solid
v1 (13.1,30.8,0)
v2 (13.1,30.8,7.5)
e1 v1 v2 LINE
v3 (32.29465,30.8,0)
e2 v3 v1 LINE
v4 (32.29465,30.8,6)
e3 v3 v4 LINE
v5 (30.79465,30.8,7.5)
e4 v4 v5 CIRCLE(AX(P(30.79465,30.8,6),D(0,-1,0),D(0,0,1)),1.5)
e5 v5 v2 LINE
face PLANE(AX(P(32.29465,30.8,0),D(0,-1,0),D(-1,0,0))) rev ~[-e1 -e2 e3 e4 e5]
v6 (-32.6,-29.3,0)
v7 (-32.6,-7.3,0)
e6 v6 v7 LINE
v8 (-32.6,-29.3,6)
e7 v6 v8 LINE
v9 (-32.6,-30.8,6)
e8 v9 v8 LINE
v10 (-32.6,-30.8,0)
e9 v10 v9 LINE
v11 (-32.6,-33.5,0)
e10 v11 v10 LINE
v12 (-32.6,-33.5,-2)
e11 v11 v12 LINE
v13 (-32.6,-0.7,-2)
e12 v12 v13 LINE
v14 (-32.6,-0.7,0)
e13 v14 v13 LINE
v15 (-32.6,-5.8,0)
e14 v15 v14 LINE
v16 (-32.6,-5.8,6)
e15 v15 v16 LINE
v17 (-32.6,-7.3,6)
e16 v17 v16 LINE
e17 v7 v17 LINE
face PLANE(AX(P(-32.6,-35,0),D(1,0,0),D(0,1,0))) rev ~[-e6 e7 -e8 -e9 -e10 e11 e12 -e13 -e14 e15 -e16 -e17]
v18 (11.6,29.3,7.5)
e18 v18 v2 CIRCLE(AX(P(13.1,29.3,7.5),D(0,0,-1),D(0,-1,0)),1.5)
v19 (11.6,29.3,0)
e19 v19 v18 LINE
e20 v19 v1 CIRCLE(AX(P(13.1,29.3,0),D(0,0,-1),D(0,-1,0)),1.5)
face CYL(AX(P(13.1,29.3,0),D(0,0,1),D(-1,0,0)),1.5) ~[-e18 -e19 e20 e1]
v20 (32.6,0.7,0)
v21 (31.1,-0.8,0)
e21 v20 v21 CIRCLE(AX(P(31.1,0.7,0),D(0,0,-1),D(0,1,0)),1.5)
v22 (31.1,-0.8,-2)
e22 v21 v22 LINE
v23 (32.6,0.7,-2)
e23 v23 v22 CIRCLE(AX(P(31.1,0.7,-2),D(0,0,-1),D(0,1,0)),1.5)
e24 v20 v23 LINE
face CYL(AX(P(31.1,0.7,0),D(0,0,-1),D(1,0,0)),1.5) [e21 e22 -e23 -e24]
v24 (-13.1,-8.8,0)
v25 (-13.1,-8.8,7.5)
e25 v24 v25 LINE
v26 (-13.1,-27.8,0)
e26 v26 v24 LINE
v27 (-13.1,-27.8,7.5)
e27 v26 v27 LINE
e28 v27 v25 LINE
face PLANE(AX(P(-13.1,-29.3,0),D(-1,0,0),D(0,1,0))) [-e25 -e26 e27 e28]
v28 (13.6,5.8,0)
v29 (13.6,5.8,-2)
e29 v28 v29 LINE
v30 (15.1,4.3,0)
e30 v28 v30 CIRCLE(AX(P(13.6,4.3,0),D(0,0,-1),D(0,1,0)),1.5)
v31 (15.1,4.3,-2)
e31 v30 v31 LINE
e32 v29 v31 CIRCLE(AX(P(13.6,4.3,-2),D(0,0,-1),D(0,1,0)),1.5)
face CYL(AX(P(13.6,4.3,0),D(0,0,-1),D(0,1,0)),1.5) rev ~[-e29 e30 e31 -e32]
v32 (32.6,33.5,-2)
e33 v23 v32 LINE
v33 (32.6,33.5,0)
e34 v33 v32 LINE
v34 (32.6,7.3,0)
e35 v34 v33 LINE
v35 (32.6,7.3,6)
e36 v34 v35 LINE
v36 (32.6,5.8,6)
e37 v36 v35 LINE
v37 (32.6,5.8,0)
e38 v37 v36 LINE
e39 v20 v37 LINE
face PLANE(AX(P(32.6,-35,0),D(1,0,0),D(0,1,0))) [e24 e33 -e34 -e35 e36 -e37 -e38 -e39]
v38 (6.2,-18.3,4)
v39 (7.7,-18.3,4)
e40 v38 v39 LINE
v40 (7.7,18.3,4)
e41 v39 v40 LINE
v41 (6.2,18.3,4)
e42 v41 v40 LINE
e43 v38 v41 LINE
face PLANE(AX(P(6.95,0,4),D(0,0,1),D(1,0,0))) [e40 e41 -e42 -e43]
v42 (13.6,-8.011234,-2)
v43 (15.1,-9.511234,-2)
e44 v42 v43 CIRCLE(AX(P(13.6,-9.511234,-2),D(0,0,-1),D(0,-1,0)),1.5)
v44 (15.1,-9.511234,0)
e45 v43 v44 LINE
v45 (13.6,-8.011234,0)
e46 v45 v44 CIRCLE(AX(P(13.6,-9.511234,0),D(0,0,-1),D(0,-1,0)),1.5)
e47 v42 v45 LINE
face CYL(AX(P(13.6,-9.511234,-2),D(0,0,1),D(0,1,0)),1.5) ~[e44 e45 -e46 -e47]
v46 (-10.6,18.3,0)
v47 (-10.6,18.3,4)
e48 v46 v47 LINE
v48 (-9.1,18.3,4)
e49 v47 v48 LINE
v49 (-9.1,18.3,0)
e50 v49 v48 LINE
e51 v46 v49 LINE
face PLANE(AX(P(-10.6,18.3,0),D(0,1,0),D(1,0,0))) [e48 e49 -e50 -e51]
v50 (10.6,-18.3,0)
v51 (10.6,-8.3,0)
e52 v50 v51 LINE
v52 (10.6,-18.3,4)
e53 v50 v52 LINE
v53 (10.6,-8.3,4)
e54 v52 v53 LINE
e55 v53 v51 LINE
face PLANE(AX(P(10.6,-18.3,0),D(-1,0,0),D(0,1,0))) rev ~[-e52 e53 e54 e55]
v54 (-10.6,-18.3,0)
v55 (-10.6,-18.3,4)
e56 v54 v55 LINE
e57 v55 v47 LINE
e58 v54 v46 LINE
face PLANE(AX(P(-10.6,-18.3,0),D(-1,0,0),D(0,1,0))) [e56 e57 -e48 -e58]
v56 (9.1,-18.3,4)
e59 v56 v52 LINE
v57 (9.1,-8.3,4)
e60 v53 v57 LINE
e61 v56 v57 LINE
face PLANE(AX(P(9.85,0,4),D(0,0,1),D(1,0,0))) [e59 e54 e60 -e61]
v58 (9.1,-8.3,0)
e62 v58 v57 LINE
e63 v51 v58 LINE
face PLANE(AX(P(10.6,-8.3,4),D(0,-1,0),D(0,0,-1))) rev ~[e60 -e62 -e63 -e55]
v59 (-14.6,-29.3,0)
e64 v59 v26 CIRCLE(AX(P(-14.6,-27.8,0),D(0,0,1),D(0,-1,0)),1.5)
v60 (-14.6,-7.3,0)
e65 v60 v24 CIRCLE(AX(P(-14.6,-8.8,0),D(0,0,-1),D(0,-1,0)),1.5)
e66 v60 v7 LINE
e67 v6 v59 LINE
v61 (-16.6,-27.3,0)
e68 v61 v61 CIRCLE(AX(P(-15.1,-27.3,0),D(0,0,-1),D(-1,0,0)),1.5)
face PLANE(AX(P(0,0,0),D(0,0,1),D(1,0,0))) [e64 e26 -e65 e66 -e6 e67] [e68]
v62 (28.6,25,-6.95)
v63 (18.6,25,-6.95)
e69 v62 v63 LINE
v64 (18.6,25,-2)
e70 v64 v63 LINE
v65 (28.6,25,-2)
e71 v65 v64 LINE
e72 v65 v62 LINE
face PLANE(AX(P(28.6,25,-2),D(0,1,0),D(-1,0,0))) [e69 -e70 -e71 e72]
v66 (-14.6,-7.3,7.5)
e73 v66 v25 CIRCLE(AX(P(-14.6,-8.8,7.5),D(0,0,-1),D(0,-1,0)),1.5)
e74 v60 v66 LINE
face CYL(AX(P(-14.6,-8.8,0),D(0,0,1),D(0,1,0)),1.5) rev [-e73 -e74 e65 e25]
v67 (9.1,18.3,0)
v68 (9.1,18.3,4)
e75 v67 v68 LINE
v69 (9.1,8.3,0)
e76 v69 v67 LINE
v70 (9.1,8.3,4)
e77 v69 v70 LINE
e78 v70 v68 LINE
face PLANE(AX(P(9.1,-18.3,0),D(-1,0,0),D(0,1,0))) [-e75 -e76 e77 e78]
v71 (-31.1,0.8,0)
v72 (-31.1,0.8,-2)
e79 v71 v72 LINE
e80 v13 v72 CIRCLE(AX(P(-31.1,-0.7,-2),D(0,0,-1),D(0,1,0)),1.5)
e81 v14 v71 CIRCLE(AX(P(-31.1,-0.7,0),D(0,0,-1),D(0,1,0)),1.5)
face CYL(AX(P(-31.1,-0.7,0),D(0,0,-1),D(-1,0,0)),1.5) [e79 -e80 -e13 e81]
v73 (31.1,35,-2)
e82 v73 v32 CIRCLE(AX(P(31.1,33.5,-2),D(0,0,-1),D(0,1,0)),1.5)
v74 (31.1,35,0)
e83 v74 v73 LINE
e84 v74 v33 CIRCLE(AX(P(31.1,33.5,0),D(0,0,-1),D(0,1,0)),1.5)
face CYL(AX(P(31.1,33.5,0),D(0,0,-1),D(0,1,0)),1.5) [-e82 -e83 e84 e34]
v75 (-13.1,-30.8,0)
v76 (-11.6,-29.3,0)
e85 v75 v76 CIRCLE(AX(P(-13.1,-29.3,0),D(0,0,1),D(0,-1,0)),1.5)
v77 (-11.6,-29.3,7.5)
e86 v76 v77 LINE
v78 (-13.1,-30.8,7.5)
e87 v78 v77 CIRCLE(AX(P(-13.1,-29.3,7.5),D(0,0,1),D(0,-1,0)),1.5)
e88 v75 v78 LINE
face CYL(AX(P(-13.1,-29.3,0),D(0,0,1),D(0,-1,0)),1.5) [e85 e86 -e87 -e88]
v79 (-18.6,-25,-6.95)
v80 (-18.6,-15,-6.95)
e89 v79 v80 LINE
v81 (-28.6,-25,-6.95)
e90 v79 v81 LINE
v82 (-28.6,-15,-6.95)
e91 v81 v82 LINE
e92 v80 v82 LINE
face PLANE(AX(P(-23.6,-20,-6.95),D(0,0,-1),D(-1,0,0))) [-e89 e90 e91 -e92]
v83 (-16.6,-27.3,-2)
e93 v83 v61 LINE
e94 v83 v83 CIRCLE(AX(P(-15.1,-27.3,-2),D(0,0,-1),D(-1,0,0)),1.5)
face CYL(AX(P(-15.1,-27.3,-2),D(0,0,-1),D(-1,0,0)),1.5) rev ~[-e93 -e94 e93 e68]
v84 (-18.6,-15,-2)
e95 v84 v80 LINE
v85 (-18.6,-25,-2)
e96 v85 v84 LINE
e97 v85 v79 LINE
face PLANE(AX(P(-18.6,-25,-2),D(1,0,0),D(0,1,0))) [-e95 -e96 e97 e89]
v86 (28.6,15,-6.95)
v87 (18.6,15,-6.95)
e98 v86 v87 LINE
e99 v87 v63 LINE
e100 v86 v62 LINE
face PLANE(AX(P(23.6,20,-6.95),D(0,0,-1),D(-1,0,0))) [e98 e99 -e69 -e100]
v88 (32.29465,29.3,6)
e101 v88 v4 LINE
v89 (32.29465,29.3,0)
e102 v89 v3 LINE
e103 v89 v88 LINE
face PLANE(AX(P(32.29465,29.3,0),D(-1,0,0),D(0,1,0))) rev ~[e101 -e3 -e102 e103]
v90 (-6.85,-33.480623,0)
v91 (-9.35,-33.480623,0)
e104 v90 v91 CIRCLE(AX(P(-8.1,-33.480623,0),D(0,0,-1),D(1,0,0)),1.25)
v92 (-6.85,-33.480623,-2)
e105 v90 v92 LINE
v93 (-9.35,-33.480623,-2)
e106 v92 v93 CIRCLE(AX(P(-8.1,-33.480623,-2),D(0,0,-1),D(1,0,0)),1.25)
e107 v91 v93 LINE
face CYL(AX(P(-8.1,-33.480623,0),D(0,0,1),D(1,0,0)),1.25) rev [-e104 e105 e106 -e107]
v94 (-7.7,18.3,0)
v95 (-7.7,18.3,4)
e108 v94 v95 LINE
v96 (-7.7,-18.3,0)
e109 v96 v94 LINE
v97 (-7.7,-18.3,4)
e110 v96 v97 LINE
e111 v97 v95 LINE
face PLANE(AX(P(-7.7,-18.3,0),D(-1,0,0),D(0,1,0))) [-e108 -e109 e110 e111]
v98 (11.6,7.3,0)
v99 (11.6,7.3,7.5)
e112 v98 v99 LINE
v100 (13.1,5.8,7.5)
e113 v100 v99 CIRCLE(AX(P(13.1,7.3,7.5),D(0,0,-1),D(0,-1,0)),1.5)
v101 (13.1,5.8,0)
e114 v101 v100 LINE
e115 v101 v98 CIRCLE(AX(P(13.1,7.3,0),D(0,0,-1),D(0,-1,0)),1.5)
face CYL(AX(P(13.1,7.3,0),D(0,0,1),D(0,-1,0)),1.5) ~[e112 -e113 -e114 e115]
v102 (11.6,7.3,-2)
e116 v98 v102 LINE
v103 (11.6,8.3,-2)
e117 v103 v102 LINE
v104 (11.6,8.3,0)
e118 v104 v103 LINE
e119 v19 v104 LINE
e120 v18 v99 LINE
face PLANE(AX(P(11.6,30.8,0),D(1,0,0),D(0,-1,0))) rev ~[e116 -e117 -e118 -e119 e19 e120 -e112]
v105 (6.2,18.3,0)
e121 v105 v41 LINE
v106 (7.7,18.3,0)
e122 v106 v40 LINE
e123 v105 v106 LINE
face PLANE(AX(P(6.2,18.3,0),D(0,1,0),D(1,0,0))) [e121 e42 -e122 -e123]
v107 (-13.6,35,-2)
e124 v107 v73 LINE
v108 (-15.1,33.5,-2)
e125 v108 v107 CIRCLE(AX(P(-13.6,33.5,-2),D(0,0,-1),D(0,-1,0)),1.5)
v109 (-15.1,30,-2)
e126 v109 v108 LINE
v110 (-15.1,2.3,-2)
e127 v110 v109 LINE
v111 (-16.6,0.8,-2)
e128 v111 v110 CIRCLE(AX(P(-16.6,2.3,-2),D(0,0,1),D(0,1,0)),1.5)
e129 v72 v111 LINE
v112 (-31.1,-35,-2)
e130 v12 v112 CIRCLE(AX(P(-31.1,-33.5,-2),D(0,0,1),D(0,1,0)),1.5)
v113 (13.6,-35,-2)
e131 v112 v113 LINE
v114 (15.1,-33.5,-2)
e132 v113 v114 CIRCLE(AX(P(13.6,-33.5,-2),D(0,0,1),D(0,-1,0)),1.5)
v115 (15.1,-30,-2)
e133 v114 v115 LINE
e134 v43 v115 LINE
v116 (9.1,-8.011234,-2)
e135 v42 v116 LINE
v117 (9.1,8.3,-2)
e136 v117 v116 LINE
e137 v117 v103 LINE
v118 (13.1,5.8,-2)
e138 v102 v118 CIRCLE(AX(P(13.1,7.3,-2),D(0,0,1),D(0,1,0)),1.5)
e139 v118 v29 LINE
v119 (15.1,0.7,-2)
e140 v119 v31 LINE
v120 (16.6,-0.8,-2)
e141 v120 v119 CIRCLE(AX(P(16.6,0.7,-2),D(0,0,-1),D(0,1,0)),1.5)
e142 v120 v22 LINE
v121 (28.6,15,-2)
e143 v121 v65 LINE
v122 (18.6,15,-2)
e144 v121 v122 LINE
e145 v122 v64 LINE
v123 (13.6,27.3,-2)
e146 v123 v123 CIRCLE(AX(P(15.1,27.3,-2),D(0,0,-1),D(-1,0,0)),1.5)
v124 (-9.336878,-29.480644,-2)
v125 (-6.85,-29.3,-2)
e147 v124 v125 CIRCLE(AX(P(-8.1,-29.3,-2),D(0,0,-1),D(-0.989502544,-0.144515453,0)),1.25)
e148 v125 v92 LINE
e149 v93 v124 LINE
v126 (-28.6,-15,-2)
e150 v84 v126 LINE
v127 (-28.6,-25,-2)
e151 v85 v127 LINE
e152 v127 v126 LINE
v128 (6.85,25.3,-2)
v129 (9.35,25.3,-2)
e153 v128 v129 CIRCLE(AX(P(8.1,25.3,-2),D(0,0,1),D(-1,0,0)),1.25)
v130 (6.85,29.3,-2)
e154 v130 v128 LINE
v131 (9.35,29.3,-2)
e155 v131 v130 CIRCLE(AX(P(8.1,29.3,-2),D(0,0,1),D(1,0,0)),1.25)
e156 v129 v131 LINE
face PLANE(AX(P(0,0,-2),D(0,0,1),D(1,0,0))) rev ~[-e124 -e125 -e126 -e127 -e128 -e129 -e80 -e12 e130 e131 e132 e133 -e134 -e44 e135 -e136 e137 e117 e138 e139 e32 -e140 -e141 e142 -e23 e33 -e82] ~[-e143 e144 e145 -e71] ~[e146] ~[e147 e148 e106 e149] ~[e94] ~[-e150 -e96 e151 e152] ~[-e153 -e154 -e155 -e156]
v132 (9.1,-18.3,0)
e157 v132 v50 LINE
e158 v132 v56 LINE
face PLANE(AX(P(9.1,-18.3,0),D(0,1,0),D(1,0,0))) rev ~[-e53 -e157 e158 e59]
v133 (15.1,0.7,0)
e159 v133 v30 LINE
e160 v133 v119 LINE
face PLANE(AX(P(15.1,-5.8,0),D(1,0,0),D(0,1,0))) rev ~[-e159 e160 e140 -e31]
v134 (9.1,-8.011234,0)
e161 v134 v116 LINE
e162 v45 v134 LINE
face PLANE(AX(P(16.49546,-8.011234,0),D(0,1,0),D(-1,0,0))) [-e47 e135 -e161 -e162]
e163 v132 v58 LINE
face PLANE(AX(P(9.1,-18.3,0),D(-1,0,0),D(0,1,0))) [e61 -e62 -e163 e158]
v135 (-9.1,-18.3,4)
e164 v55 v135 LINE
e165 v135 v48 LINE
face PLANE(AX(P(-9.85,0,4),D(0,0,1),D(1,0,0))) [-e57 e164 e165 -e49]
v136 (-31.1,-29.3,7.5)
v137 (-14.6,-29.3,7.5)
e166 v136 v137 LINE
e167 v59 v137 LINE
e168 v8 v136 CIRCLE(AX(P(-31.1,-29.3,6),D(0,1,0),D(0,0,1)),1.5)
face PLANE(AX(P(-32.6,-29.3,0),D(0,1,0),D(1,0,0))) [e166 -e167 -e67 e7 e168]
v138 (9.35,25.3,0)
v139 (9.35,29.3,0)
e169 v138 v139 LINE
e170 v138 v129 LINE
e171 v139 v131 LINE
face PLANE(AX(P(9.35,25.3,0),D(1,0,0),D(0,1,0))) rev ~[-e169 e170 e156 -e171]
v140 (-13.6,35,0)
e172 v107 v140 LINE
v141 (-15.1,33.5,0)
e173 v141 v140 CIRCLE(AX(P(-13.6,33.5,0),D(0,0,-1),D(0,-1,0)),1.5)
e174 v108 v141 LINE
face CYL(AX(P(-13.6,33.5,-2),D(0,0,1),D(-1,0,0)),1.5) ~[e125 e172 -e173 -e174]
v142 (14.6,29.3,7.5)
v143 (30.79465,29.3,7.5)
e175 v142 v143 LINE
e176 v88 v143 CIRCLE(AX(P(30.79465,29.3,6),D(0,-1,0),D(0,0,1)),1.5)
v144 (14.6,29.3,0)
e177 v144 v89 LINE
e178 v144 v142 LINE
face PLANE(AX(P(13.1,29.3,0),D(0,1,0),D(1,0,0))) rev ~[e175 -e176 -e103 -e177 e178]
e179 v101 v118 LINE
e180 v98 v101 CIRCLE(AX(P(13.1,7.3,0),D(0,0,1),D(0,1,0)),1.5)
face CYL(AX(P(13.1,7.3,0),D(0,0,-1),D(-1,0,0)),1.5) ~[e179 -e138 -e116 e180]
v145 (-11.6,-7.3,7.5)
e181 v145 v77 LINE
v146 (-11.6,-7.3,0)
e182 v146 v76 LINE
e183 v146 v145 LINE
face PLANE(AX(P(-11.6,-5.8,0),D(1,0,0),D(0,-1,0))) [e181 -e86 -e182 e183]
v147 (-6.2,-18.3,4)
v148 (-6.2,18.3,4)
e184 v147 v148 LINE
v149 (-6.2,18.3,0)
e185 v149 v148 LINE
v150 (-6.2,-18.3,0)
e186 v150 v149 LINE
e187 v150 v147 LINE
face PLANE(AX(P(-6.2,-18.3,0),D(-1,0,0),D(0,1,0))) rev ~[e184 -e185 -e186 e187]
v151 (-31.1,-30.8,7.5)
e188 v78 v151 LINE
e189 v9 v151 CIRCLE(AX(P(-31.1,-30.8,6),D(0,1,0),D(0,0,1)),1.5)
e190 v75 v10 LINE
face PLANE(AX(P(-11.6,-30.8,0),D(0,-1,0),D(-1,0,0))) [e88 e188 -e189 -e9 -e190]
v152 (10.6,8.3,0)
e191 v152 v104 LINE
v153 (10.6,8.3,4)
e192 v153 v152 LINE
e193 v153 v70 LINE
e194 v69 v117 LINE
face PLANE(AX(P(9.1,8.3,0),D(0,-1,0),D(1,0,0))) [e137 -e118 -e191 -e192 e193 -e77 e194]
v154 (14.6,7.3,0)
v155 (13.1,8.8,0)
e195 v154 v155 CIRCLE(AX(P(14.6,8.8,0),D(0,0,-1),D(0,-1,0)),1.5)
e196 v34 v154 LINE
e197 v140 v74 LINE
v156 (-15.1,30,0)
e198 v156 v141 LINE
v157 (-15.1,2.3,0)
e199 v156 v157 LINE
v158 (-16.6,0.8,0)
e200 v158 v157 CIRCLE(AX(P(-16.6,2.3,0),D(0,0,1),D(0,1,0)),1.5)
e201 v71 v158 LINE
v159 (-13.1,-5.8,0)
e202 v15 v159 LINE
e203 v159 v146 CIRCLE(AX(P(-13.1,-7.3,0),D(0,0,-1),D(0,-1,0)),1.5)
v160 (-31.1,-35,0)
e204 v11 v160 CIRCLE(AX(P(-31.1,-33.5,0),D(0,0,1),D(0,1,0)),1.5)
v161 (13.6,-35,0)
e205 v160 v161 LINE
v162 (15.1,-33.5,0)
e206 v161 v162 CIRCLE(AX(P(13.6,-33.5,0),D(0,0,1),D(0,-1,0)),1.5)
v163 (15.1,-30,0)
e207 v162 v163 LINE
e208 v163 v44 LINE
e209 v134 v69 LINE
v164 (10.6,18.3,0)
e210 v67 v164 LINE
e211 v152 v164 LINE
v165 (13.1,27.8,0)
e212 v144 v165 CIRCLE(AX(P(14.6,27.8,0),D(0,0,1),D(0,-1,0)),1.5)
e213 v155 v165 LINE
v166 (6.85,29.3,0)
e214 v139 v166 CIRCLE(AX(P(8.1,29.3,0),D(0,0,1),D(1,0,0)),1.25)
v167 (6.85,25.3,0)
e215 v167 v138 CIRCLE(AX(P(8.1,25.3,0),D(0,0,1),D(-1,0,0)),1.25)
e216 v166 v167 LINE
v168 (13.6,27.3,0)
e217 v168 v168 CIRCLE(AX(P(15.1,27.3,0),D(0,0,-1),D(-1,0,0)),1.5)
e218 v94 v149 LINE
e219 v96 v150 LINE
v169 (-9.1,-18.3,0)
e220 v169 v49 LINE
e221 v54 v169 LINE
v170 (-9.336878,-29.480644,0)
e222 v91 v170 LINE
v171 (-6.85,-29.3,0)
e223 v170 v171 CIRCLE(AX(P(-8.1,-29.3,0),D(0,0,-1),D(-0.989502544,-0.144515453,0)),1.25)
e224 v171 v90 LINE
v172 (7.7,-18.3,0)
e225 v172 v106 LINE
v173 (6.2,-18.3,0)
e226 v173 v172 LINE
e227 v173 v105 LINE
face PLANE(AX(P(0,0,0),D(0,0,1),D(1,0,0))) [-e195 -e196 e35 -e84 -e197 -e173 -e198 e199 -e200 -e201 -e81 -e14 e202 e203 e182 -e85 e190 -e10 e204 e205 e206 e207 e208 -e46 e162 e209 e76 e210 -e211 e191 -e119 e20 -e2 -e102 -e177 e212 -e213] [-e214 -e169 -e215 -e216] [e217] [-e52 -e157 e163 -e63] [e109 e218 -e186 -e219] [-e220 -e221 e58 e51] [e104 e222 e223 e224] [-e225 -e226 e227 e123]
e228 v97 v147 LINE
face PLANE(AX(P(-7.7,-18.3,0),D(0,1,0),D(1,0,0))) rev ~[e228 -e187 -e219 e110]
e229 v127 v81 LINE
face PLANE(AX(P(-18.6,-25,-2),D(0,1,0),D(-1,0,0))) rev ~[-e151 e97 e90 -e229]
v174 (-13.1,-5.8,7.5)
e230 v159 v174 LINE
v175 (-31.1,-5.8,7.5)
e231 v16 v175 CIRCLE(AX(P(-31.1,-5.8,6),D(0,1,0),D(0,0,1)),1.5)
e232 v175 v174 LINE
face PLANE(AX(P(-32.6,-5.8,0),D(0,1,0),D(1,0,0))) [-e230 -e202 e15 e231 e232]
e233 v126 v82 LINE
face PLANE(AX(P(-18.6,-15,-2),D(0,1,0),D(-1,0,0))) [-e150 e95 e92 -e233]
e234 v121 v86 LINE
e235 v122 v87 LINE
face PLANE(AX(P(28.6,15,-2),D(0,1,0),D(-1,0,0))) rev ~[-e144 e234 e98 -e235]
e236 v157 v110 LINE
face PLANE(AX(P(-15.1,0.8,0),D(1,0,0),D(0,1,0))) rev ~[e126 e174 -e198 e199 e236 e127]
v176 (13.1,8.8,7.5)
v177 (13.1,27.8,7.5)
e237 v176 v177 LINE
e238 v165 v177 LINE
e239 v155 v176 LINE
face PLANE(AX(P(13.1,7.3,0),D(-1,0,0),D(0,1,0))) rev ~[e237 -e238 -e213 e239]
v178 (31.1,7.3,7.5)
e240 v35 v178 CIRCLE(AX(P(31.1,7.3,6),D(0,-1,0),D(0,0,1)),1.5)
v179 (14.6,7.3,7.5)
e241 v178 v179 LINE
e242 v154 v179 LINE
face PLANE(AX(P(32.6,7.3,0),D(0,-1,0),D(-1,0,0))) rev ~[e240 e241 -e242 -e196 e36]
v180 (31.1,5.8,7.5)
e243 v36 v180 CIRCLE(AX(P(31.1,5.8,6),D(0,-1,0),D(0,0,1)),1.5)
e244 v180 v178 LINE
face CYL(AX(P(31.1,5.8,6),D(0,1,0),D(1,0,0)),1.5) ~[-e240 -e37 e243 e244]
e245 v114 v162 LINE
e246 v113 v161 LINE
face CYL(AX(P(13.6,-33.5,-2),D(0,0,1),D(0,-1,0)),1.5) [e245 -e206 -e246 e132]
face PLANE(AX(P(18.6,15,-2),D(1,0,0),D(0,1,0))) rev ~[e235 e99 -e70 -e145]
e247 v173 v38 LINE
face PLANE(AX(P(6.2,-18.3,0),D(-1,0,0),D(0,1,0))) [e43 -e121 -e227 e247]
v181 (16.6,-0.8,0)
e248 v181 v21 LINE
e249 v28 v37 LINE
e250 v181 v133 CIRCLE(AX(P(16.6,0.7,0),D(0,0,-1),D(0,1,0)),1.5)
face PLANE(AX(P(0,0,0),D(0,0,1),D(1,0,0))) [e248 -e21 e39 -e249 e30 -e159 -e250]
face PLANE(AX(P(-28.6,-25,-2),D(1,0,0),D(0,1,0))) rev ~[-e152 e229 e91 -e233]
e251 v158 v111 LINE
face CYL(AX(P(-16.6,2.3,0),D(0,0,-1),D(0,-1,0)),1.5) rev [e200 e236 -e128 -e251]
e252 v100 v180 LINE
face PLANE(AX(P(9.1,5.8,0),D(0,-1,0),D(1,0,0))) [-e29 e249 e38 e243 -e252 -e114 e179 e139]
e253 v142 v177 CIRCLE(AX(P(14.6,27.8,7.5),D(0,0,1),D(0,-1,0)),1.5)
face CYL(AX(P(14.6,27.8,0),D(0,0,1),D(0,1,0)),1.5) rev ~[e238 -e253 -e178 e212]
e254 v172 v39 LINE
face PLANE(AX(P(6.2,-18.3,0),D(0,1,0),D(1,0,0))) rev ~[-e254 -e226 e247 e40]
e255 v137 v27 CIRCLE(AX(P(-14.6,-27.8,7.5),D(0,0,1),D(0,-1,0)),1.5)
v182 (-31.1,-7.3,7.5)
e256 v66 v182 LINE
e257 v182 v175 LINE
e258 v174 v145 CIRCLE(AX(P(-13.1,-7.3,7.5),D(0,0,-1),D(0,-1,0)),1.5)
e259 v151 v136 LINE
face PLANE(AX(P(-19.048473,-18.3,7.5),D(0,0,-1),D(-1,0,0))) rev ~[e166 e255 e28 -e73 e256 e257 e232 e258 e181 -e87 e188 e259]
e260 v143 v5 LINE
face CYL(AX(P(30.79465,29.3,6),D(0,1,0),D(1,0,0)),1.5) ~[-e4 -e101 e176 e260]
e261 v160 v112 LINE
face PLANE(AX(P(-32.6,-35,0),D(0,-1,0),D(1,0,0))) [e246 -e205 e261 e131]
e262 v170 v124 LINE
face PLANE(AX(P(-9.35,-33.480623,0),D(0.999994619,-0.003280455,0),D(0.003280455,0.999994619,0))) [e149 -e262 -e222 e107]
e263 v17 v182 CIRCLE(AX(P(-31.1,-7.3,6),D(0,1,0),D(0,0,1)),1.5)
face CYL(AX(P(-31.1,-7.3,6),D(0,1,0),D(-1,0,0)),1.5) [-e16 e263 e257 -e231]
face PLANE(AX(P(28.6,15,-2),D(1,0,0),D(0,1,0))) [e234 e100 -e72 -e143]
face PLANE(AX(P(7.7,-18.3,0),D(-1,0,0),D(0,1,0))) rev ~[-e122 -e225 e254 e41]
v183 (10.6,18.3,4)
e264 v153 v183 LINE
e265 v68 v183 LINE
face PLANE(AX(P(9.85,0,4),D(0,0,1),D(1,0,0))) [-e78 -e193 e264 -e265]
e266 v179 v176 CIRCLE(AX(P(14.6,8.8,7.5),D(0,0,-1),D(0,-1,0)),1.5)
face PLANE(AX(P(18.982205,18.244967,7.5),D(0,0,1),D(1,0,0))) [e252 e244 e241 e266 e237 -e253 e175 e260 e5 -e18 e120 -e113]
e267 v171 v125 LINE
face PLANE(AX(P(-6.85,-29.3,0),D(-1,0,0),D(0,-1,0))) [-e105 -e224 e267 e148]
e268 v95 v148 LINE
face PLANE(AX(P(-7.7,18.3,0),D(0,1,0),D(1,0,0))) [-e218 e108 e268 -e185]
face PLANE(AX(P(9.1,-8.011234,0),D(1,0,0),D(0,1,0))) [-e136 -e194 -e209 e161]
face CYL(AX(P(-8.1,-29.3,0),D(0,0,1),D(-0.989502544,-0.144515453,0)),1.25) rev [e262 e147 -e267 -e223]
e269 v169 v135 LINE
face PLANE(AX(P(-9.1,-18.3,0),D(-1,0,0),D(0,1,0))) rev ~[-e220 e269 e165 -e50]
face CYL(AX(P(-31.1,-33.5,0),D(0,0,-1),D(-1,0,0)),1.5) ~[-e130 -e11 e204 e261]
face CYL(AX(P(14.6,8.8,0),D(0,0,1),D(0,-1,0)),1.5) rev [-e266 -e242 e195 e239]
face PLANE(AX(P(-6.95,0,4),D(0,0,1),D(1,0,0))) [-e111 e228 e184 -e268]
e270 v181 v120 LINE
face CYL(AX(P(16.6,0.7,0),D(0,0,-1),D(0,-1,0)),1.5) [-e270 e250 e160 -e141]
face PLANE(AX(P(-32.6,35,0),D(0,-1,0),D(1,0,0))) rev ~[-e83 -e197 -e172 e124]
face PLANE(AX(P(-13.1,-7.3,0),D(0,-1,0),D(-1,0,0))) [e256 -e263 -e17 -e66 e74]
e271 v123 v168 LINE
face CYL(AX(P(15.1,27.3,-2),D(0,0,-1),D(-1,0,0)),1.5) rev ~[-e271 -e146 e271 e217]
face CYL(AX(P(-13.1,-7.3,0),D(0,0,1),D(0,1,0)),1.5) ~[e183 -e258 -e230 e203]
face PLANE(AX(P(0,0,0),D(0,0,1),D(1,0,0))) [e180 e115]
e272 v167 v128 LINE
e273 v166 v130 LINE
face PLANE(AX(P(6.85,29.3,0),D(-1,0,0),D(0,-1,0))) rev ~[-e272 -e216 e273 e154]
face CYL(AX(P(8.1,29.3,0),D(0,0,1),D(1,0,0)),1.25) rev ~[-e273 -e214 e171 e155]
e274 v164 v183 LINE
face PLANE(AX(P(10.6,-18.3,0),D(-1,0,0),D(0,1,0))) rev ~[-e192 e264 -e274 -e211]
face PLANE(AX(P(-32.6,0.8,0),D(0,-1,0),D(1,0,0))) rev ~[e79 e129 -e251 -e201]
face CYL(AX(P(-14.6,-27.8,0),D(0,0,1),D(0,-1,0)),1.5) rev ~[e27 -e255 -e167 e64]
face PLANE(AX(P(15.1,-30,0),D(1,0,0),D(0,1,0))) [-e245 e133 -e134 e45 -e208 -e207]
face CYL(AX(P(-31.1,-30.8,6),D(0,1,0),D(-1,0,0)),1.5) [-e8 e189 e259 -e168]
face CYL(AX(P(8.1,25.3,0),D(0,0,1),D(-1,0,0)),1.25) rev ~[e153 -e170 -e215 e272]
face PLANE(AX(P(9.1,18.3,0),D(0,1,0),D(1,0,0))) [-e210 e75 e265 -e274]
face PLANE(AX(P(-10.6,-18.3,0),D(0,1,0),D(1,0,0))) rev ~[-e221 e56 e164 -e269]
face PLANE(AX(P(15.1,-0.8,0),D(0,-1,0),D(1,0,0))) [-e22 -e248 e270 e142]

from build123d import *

# Parameters (mm, degrees)
SKETCH3_W             = 1.5
SKETCH3_H             = 36.6
BOSS_EXTRUDE1_DEPTH   = 4
BOSS_EXTRUDE1_2_DEPTH = 4
BOSS_EXTRUDE1_3_DEPTH = 4
BOSS_EXTRUDE1_4_DEPTH = 4
SKETCH4_W             = 65.2
SKETCH4_H             = 70
BOSS_EXTRUDE2_DEPTH   = 2
BOSS_EXTRUDE3_DEPTH   = 7.5
SKETCH6_W             = 17.5
SKETCH6_H             = 29.2
CUT_EXTRUDE1_DEPTH    = 4
SKETCH10_R            = 1.5
CUT_EXTRUDE5_DEPTH    = 20
SKETCH11_W            = 23.629808973
SKETCH11_H            = 13.794178538
SKETCH11_W_2          = 19.491555411
SKETCH11_H_2          = 12.733087881
CUT_EXTRUDE6_DEPTH    = 20
SKETCH13_W            = 4
SKETCH13_H            = 16.6
CUT_EXTRUDE7_DEPTH    = 2
SKETCH15_W            = 6
SKETCH15_H            = 11.6
CUT_EXTRUDE8_DEPTH    = 2
CUT_EXTRUDE9_DEPTH    = 2
FILLET1_R             = 1.5
CUT_EXTRUDE11_DEPTH   = 2
FILLET2_R             = 1.5
SKETCH19_W            = 10
SKETCH19_H            = 10
BOSS_EXTRUDE5_DEPTH   = 4.95


with BuildPart() as part:
    # Sketch3 → Boss-Extrude1 (new body)
    with BuildSketch(Plane.XY):
        with Locations((-6.95, 0)):
            Rectangle(SKETCH3_W, SKETCH3_H)
    extrude(amount=BOSS_EXTRUDE1_DEPTH)



with BuildPart() as body_2:
    # Sketch3 → Boss-Extrude1 2 (new body)
    with BuildSketch(Plane.XY):
        with Locations((-9.85, 0)):
            Rectangle(SKETCH3_W, SKETCH3_H)
    extrude(amount=BOSS_EXTRUDE1_2_DEPTH)


with BuildPart() as body_3:
    # Sketch3 → Boss-Extrude1 3 (new body)
    with BuildSketch(Plane.XY):
        with Locations((6.95, 0)):
            Rectangle(SKETCH3_W, SKETCH3_H)
    extrude(amount=BOSS_EXTRUDE1_3_DEPTH)


with BuildPart() as body_4:
    # Sketch3 → Boss-Extrude1 4 (new body)
    with BuildSketch(Plane.XY):
        with Locations((9.85, 0)):
            Rectangle(SKETCH3_W, SKETCH3_H)
    extrude(amount=BOSS_EXTRUDE1_4_DEPTH)


with BuildPart() as part_1:
    add(part.part)

    add(body_2.part)  # Boss-Extrude2 merges body 2

    add(body_3.part)  # Boss-Extrude2 merges body 3

    add(body_4.part)  # Boss-Extrude2 merges body 4
    # Sketch4 → Boss-Extrude2 (add)
    with BuildSketch(Plane.XY):
        Rectangle(SKETCH4_W, SKETCH4_H)
    extrude(amount=-BOSS_EXTRUDE2_DEPTH)

    # Sketch5 → Boss-Extrude3 (add)
    with BuildSketch(Plane.XY):
        Polygon((11.6, 30.8), (11.6, 5.8), (32.6, 5.8), (32.6, 7.3), (13.1, 7.3), (13.1, 29.3), (32.294650231, 29.3), (32.294650231, 30.8), align=None)
        Polygon((-32.6, -5.8), (-11.6, -5.8), (-11.6, -30.8), (-32.6, -30.8), (-32.6, -29.3), (-13.1, -29.3), (-13.1, -7.3), (-32.6, -7.3), align=None)
    extrude(amount=BOSS_EXTRUDE3_DEPTH)

    # Sketch6 → Cut-Extrude1 (cut)
    with BuildSketch(Plane.XY):
        with Locations((-23.85, 15.4)):
            Rectangle(SKETCH6_W, SKETCH6_H)
        with Locations((23.85, -15.4)):
            Rectangle(SKETCH6_W, SKETCH6_H)
    extrude(amount=-CUT_EXTRUDE1_DEPTH, mode=Mode.SUBTRACT)

    # Sketch10 → Cut-Extrude5 (cut)
    with BuildSketch(Plane(origin=(0, 0, -2), x_dir=(-1, 0, 0), z_dir=(0, 0, -1))):
        with Locations((-15.1, 27.3)):
            Circle(SKETCH10_R)
        with Locations((15.1, -27.3)):
            Circle(SKETCH10_R)
    extrude(amount=-CUT_EXTRUDE5_DEPTH, mode=Mode.SUBTRACT)

    # Sketch11 → Cut-Extrude6 (cut)
    with BuildSketch(Plane.XY):
        with Locations((-26.914904487, 32.734646762)):
            Rectangle(SKETCH11_W, SKETCH11_H)
        with Locations((24.845777706, -31.885774236)):
            Rectangle(SKETCH11_W_2, SKETCH11_H_2)
    extrude(amount=-CUT_EXTRUDE6_DEPTH, mode=Mode.SUBTRACT)

    # Sketch13 → Cut-Extrude7 (cut)
    with BuildSketch(Plane(origin=(10.6, 0, 0), x_dir=(0, 0, -1), z_dir=(1, 0, 0))):
        with Locations((-2, 0)):
            Rectangle(SKETCH13_W, SKETCH13_H)
    extrude(amount=-CUT_EXTRUDE7_DEPTH, mode=Mode.SUBTRACT)

    # Sketch15 → Cut-Extrude8 (cut)
    with BuildSketch(Plane.XY):
        with Locations((12.1, 0)):
            Rectangle(SKETCH15_W, SKETCH15_H)
    extrude(amount=-CUT_EXTRUDE8_DEPTH, mode=Mode.SUBTRACT)

    # Sketch16 → Cut-Extrude9 (cut)
    with BuildSketch(Plane.XY):
        with BuildLine():
            Line((-6.85, -29.3), (-6.85, -33.480622793))
            ThreePointArc((-6.85, -33.480622793), (-8.1, -34.730622793), (-9.35, -33.480622793))
            Line((-9.35, -33.480622793), (-9.33687818, -29.480644316))
            ThreePointArc((-9.33687818, -29.480644316), (-8.190560134, -28.053284771), (-6.85, -29.3))
        make_face()
        with BuildLine():
            Line((6.85, 29.3), (6.85, 25.3))
            ThreePointArc((6.85, 25.3), (8.1, 24.05), (9.35, 25.3))
            Line((9.35, 25.3), (9.35, 29.3))
            ThreePointArc((9.35, 29.3), (8.1, 30.55), (6.85, 29.3))
        make_face()
    extrude(amount=-CUT_EXTRUDE9_DEPTH, mode=Mode.SUBTRACT)

    # Fillet1
    fillet1_edges = [part_1.edges().sort_by_distance(p)[0] for p in [
        (32.6, 6.55, 7.5),
        (32.294650231, 30.05, 7.5),
        (-13.1, -7.3, 3.75),
        (-13.1, -29.3, 3.75),
        (-11.6, -30.8, 3.75),
        (-11.6, -5.8, 3.75),
        (-32.6, -6.55, 7.5),
        (-32.6, -30.05, 7.5),
        (-32.6, 0.8, -1),
        (-15.1, 0.8, -1),
        (32.6, -0.8, -1),
        (15.1, -0.8, -1),
        (-15.1, 35, -1),
        (15.1, -35, -1),
        (15.1, 5.8, -1),
        (15.1, -5.8, -1),
        (32.6, 35, -1),
        (-32.6, -35, -1),
        (11.6, 30.8, 3.75),
        (11.6, 5.8, 3.75),
        (13.1, 7.3, 3.75),
        (13.1, 29.3, 3.75),
    ]]
    fillet(fillet1_edges, radius=FILLET1_R)

    # Sketch18 → Cut-Extrude11 (cut)
    with BuildSketch(Plane.XY):
        Polygon((9.1, 8.3), (11.6, 8.3), (11.6, -5.8), (16.495460275, -5.8), (16.495460275, -8.011234459), (9.1, -8.011234459), align=None)
    extrude(amount=-CUT_EXTRUDE11_DEPTH, mode=Mode.SUBTRACT)

    # Fillet2
    fillet2_edges = [part_1.edges().sort_by_distance(p)[0] for p in [
        (11.6, 5.8, -1),
        (15.1, -8.011234459, -1),
    ]]
    fillet(fillet2_edges, radius=FILLET2_R)

    # Sketch19 → Boss-Extrude5 (add)
    with BuildSketch(Plane(origin=(0, 0, -2), x_dir=(-1, 0, 0), z_dir=(0, 0, -1))):
        with Locations((-23.6, 20)):
            Rectangle(SKETCH19_W, SKETCH19_H)
        with Locations((23.6, -20)):
            Rectangle(SKETCH19_W, SKETCH19_H)
    extrude(amount=BOSS_EXTRUDE5_DEPTH)


solid = part_1.part
